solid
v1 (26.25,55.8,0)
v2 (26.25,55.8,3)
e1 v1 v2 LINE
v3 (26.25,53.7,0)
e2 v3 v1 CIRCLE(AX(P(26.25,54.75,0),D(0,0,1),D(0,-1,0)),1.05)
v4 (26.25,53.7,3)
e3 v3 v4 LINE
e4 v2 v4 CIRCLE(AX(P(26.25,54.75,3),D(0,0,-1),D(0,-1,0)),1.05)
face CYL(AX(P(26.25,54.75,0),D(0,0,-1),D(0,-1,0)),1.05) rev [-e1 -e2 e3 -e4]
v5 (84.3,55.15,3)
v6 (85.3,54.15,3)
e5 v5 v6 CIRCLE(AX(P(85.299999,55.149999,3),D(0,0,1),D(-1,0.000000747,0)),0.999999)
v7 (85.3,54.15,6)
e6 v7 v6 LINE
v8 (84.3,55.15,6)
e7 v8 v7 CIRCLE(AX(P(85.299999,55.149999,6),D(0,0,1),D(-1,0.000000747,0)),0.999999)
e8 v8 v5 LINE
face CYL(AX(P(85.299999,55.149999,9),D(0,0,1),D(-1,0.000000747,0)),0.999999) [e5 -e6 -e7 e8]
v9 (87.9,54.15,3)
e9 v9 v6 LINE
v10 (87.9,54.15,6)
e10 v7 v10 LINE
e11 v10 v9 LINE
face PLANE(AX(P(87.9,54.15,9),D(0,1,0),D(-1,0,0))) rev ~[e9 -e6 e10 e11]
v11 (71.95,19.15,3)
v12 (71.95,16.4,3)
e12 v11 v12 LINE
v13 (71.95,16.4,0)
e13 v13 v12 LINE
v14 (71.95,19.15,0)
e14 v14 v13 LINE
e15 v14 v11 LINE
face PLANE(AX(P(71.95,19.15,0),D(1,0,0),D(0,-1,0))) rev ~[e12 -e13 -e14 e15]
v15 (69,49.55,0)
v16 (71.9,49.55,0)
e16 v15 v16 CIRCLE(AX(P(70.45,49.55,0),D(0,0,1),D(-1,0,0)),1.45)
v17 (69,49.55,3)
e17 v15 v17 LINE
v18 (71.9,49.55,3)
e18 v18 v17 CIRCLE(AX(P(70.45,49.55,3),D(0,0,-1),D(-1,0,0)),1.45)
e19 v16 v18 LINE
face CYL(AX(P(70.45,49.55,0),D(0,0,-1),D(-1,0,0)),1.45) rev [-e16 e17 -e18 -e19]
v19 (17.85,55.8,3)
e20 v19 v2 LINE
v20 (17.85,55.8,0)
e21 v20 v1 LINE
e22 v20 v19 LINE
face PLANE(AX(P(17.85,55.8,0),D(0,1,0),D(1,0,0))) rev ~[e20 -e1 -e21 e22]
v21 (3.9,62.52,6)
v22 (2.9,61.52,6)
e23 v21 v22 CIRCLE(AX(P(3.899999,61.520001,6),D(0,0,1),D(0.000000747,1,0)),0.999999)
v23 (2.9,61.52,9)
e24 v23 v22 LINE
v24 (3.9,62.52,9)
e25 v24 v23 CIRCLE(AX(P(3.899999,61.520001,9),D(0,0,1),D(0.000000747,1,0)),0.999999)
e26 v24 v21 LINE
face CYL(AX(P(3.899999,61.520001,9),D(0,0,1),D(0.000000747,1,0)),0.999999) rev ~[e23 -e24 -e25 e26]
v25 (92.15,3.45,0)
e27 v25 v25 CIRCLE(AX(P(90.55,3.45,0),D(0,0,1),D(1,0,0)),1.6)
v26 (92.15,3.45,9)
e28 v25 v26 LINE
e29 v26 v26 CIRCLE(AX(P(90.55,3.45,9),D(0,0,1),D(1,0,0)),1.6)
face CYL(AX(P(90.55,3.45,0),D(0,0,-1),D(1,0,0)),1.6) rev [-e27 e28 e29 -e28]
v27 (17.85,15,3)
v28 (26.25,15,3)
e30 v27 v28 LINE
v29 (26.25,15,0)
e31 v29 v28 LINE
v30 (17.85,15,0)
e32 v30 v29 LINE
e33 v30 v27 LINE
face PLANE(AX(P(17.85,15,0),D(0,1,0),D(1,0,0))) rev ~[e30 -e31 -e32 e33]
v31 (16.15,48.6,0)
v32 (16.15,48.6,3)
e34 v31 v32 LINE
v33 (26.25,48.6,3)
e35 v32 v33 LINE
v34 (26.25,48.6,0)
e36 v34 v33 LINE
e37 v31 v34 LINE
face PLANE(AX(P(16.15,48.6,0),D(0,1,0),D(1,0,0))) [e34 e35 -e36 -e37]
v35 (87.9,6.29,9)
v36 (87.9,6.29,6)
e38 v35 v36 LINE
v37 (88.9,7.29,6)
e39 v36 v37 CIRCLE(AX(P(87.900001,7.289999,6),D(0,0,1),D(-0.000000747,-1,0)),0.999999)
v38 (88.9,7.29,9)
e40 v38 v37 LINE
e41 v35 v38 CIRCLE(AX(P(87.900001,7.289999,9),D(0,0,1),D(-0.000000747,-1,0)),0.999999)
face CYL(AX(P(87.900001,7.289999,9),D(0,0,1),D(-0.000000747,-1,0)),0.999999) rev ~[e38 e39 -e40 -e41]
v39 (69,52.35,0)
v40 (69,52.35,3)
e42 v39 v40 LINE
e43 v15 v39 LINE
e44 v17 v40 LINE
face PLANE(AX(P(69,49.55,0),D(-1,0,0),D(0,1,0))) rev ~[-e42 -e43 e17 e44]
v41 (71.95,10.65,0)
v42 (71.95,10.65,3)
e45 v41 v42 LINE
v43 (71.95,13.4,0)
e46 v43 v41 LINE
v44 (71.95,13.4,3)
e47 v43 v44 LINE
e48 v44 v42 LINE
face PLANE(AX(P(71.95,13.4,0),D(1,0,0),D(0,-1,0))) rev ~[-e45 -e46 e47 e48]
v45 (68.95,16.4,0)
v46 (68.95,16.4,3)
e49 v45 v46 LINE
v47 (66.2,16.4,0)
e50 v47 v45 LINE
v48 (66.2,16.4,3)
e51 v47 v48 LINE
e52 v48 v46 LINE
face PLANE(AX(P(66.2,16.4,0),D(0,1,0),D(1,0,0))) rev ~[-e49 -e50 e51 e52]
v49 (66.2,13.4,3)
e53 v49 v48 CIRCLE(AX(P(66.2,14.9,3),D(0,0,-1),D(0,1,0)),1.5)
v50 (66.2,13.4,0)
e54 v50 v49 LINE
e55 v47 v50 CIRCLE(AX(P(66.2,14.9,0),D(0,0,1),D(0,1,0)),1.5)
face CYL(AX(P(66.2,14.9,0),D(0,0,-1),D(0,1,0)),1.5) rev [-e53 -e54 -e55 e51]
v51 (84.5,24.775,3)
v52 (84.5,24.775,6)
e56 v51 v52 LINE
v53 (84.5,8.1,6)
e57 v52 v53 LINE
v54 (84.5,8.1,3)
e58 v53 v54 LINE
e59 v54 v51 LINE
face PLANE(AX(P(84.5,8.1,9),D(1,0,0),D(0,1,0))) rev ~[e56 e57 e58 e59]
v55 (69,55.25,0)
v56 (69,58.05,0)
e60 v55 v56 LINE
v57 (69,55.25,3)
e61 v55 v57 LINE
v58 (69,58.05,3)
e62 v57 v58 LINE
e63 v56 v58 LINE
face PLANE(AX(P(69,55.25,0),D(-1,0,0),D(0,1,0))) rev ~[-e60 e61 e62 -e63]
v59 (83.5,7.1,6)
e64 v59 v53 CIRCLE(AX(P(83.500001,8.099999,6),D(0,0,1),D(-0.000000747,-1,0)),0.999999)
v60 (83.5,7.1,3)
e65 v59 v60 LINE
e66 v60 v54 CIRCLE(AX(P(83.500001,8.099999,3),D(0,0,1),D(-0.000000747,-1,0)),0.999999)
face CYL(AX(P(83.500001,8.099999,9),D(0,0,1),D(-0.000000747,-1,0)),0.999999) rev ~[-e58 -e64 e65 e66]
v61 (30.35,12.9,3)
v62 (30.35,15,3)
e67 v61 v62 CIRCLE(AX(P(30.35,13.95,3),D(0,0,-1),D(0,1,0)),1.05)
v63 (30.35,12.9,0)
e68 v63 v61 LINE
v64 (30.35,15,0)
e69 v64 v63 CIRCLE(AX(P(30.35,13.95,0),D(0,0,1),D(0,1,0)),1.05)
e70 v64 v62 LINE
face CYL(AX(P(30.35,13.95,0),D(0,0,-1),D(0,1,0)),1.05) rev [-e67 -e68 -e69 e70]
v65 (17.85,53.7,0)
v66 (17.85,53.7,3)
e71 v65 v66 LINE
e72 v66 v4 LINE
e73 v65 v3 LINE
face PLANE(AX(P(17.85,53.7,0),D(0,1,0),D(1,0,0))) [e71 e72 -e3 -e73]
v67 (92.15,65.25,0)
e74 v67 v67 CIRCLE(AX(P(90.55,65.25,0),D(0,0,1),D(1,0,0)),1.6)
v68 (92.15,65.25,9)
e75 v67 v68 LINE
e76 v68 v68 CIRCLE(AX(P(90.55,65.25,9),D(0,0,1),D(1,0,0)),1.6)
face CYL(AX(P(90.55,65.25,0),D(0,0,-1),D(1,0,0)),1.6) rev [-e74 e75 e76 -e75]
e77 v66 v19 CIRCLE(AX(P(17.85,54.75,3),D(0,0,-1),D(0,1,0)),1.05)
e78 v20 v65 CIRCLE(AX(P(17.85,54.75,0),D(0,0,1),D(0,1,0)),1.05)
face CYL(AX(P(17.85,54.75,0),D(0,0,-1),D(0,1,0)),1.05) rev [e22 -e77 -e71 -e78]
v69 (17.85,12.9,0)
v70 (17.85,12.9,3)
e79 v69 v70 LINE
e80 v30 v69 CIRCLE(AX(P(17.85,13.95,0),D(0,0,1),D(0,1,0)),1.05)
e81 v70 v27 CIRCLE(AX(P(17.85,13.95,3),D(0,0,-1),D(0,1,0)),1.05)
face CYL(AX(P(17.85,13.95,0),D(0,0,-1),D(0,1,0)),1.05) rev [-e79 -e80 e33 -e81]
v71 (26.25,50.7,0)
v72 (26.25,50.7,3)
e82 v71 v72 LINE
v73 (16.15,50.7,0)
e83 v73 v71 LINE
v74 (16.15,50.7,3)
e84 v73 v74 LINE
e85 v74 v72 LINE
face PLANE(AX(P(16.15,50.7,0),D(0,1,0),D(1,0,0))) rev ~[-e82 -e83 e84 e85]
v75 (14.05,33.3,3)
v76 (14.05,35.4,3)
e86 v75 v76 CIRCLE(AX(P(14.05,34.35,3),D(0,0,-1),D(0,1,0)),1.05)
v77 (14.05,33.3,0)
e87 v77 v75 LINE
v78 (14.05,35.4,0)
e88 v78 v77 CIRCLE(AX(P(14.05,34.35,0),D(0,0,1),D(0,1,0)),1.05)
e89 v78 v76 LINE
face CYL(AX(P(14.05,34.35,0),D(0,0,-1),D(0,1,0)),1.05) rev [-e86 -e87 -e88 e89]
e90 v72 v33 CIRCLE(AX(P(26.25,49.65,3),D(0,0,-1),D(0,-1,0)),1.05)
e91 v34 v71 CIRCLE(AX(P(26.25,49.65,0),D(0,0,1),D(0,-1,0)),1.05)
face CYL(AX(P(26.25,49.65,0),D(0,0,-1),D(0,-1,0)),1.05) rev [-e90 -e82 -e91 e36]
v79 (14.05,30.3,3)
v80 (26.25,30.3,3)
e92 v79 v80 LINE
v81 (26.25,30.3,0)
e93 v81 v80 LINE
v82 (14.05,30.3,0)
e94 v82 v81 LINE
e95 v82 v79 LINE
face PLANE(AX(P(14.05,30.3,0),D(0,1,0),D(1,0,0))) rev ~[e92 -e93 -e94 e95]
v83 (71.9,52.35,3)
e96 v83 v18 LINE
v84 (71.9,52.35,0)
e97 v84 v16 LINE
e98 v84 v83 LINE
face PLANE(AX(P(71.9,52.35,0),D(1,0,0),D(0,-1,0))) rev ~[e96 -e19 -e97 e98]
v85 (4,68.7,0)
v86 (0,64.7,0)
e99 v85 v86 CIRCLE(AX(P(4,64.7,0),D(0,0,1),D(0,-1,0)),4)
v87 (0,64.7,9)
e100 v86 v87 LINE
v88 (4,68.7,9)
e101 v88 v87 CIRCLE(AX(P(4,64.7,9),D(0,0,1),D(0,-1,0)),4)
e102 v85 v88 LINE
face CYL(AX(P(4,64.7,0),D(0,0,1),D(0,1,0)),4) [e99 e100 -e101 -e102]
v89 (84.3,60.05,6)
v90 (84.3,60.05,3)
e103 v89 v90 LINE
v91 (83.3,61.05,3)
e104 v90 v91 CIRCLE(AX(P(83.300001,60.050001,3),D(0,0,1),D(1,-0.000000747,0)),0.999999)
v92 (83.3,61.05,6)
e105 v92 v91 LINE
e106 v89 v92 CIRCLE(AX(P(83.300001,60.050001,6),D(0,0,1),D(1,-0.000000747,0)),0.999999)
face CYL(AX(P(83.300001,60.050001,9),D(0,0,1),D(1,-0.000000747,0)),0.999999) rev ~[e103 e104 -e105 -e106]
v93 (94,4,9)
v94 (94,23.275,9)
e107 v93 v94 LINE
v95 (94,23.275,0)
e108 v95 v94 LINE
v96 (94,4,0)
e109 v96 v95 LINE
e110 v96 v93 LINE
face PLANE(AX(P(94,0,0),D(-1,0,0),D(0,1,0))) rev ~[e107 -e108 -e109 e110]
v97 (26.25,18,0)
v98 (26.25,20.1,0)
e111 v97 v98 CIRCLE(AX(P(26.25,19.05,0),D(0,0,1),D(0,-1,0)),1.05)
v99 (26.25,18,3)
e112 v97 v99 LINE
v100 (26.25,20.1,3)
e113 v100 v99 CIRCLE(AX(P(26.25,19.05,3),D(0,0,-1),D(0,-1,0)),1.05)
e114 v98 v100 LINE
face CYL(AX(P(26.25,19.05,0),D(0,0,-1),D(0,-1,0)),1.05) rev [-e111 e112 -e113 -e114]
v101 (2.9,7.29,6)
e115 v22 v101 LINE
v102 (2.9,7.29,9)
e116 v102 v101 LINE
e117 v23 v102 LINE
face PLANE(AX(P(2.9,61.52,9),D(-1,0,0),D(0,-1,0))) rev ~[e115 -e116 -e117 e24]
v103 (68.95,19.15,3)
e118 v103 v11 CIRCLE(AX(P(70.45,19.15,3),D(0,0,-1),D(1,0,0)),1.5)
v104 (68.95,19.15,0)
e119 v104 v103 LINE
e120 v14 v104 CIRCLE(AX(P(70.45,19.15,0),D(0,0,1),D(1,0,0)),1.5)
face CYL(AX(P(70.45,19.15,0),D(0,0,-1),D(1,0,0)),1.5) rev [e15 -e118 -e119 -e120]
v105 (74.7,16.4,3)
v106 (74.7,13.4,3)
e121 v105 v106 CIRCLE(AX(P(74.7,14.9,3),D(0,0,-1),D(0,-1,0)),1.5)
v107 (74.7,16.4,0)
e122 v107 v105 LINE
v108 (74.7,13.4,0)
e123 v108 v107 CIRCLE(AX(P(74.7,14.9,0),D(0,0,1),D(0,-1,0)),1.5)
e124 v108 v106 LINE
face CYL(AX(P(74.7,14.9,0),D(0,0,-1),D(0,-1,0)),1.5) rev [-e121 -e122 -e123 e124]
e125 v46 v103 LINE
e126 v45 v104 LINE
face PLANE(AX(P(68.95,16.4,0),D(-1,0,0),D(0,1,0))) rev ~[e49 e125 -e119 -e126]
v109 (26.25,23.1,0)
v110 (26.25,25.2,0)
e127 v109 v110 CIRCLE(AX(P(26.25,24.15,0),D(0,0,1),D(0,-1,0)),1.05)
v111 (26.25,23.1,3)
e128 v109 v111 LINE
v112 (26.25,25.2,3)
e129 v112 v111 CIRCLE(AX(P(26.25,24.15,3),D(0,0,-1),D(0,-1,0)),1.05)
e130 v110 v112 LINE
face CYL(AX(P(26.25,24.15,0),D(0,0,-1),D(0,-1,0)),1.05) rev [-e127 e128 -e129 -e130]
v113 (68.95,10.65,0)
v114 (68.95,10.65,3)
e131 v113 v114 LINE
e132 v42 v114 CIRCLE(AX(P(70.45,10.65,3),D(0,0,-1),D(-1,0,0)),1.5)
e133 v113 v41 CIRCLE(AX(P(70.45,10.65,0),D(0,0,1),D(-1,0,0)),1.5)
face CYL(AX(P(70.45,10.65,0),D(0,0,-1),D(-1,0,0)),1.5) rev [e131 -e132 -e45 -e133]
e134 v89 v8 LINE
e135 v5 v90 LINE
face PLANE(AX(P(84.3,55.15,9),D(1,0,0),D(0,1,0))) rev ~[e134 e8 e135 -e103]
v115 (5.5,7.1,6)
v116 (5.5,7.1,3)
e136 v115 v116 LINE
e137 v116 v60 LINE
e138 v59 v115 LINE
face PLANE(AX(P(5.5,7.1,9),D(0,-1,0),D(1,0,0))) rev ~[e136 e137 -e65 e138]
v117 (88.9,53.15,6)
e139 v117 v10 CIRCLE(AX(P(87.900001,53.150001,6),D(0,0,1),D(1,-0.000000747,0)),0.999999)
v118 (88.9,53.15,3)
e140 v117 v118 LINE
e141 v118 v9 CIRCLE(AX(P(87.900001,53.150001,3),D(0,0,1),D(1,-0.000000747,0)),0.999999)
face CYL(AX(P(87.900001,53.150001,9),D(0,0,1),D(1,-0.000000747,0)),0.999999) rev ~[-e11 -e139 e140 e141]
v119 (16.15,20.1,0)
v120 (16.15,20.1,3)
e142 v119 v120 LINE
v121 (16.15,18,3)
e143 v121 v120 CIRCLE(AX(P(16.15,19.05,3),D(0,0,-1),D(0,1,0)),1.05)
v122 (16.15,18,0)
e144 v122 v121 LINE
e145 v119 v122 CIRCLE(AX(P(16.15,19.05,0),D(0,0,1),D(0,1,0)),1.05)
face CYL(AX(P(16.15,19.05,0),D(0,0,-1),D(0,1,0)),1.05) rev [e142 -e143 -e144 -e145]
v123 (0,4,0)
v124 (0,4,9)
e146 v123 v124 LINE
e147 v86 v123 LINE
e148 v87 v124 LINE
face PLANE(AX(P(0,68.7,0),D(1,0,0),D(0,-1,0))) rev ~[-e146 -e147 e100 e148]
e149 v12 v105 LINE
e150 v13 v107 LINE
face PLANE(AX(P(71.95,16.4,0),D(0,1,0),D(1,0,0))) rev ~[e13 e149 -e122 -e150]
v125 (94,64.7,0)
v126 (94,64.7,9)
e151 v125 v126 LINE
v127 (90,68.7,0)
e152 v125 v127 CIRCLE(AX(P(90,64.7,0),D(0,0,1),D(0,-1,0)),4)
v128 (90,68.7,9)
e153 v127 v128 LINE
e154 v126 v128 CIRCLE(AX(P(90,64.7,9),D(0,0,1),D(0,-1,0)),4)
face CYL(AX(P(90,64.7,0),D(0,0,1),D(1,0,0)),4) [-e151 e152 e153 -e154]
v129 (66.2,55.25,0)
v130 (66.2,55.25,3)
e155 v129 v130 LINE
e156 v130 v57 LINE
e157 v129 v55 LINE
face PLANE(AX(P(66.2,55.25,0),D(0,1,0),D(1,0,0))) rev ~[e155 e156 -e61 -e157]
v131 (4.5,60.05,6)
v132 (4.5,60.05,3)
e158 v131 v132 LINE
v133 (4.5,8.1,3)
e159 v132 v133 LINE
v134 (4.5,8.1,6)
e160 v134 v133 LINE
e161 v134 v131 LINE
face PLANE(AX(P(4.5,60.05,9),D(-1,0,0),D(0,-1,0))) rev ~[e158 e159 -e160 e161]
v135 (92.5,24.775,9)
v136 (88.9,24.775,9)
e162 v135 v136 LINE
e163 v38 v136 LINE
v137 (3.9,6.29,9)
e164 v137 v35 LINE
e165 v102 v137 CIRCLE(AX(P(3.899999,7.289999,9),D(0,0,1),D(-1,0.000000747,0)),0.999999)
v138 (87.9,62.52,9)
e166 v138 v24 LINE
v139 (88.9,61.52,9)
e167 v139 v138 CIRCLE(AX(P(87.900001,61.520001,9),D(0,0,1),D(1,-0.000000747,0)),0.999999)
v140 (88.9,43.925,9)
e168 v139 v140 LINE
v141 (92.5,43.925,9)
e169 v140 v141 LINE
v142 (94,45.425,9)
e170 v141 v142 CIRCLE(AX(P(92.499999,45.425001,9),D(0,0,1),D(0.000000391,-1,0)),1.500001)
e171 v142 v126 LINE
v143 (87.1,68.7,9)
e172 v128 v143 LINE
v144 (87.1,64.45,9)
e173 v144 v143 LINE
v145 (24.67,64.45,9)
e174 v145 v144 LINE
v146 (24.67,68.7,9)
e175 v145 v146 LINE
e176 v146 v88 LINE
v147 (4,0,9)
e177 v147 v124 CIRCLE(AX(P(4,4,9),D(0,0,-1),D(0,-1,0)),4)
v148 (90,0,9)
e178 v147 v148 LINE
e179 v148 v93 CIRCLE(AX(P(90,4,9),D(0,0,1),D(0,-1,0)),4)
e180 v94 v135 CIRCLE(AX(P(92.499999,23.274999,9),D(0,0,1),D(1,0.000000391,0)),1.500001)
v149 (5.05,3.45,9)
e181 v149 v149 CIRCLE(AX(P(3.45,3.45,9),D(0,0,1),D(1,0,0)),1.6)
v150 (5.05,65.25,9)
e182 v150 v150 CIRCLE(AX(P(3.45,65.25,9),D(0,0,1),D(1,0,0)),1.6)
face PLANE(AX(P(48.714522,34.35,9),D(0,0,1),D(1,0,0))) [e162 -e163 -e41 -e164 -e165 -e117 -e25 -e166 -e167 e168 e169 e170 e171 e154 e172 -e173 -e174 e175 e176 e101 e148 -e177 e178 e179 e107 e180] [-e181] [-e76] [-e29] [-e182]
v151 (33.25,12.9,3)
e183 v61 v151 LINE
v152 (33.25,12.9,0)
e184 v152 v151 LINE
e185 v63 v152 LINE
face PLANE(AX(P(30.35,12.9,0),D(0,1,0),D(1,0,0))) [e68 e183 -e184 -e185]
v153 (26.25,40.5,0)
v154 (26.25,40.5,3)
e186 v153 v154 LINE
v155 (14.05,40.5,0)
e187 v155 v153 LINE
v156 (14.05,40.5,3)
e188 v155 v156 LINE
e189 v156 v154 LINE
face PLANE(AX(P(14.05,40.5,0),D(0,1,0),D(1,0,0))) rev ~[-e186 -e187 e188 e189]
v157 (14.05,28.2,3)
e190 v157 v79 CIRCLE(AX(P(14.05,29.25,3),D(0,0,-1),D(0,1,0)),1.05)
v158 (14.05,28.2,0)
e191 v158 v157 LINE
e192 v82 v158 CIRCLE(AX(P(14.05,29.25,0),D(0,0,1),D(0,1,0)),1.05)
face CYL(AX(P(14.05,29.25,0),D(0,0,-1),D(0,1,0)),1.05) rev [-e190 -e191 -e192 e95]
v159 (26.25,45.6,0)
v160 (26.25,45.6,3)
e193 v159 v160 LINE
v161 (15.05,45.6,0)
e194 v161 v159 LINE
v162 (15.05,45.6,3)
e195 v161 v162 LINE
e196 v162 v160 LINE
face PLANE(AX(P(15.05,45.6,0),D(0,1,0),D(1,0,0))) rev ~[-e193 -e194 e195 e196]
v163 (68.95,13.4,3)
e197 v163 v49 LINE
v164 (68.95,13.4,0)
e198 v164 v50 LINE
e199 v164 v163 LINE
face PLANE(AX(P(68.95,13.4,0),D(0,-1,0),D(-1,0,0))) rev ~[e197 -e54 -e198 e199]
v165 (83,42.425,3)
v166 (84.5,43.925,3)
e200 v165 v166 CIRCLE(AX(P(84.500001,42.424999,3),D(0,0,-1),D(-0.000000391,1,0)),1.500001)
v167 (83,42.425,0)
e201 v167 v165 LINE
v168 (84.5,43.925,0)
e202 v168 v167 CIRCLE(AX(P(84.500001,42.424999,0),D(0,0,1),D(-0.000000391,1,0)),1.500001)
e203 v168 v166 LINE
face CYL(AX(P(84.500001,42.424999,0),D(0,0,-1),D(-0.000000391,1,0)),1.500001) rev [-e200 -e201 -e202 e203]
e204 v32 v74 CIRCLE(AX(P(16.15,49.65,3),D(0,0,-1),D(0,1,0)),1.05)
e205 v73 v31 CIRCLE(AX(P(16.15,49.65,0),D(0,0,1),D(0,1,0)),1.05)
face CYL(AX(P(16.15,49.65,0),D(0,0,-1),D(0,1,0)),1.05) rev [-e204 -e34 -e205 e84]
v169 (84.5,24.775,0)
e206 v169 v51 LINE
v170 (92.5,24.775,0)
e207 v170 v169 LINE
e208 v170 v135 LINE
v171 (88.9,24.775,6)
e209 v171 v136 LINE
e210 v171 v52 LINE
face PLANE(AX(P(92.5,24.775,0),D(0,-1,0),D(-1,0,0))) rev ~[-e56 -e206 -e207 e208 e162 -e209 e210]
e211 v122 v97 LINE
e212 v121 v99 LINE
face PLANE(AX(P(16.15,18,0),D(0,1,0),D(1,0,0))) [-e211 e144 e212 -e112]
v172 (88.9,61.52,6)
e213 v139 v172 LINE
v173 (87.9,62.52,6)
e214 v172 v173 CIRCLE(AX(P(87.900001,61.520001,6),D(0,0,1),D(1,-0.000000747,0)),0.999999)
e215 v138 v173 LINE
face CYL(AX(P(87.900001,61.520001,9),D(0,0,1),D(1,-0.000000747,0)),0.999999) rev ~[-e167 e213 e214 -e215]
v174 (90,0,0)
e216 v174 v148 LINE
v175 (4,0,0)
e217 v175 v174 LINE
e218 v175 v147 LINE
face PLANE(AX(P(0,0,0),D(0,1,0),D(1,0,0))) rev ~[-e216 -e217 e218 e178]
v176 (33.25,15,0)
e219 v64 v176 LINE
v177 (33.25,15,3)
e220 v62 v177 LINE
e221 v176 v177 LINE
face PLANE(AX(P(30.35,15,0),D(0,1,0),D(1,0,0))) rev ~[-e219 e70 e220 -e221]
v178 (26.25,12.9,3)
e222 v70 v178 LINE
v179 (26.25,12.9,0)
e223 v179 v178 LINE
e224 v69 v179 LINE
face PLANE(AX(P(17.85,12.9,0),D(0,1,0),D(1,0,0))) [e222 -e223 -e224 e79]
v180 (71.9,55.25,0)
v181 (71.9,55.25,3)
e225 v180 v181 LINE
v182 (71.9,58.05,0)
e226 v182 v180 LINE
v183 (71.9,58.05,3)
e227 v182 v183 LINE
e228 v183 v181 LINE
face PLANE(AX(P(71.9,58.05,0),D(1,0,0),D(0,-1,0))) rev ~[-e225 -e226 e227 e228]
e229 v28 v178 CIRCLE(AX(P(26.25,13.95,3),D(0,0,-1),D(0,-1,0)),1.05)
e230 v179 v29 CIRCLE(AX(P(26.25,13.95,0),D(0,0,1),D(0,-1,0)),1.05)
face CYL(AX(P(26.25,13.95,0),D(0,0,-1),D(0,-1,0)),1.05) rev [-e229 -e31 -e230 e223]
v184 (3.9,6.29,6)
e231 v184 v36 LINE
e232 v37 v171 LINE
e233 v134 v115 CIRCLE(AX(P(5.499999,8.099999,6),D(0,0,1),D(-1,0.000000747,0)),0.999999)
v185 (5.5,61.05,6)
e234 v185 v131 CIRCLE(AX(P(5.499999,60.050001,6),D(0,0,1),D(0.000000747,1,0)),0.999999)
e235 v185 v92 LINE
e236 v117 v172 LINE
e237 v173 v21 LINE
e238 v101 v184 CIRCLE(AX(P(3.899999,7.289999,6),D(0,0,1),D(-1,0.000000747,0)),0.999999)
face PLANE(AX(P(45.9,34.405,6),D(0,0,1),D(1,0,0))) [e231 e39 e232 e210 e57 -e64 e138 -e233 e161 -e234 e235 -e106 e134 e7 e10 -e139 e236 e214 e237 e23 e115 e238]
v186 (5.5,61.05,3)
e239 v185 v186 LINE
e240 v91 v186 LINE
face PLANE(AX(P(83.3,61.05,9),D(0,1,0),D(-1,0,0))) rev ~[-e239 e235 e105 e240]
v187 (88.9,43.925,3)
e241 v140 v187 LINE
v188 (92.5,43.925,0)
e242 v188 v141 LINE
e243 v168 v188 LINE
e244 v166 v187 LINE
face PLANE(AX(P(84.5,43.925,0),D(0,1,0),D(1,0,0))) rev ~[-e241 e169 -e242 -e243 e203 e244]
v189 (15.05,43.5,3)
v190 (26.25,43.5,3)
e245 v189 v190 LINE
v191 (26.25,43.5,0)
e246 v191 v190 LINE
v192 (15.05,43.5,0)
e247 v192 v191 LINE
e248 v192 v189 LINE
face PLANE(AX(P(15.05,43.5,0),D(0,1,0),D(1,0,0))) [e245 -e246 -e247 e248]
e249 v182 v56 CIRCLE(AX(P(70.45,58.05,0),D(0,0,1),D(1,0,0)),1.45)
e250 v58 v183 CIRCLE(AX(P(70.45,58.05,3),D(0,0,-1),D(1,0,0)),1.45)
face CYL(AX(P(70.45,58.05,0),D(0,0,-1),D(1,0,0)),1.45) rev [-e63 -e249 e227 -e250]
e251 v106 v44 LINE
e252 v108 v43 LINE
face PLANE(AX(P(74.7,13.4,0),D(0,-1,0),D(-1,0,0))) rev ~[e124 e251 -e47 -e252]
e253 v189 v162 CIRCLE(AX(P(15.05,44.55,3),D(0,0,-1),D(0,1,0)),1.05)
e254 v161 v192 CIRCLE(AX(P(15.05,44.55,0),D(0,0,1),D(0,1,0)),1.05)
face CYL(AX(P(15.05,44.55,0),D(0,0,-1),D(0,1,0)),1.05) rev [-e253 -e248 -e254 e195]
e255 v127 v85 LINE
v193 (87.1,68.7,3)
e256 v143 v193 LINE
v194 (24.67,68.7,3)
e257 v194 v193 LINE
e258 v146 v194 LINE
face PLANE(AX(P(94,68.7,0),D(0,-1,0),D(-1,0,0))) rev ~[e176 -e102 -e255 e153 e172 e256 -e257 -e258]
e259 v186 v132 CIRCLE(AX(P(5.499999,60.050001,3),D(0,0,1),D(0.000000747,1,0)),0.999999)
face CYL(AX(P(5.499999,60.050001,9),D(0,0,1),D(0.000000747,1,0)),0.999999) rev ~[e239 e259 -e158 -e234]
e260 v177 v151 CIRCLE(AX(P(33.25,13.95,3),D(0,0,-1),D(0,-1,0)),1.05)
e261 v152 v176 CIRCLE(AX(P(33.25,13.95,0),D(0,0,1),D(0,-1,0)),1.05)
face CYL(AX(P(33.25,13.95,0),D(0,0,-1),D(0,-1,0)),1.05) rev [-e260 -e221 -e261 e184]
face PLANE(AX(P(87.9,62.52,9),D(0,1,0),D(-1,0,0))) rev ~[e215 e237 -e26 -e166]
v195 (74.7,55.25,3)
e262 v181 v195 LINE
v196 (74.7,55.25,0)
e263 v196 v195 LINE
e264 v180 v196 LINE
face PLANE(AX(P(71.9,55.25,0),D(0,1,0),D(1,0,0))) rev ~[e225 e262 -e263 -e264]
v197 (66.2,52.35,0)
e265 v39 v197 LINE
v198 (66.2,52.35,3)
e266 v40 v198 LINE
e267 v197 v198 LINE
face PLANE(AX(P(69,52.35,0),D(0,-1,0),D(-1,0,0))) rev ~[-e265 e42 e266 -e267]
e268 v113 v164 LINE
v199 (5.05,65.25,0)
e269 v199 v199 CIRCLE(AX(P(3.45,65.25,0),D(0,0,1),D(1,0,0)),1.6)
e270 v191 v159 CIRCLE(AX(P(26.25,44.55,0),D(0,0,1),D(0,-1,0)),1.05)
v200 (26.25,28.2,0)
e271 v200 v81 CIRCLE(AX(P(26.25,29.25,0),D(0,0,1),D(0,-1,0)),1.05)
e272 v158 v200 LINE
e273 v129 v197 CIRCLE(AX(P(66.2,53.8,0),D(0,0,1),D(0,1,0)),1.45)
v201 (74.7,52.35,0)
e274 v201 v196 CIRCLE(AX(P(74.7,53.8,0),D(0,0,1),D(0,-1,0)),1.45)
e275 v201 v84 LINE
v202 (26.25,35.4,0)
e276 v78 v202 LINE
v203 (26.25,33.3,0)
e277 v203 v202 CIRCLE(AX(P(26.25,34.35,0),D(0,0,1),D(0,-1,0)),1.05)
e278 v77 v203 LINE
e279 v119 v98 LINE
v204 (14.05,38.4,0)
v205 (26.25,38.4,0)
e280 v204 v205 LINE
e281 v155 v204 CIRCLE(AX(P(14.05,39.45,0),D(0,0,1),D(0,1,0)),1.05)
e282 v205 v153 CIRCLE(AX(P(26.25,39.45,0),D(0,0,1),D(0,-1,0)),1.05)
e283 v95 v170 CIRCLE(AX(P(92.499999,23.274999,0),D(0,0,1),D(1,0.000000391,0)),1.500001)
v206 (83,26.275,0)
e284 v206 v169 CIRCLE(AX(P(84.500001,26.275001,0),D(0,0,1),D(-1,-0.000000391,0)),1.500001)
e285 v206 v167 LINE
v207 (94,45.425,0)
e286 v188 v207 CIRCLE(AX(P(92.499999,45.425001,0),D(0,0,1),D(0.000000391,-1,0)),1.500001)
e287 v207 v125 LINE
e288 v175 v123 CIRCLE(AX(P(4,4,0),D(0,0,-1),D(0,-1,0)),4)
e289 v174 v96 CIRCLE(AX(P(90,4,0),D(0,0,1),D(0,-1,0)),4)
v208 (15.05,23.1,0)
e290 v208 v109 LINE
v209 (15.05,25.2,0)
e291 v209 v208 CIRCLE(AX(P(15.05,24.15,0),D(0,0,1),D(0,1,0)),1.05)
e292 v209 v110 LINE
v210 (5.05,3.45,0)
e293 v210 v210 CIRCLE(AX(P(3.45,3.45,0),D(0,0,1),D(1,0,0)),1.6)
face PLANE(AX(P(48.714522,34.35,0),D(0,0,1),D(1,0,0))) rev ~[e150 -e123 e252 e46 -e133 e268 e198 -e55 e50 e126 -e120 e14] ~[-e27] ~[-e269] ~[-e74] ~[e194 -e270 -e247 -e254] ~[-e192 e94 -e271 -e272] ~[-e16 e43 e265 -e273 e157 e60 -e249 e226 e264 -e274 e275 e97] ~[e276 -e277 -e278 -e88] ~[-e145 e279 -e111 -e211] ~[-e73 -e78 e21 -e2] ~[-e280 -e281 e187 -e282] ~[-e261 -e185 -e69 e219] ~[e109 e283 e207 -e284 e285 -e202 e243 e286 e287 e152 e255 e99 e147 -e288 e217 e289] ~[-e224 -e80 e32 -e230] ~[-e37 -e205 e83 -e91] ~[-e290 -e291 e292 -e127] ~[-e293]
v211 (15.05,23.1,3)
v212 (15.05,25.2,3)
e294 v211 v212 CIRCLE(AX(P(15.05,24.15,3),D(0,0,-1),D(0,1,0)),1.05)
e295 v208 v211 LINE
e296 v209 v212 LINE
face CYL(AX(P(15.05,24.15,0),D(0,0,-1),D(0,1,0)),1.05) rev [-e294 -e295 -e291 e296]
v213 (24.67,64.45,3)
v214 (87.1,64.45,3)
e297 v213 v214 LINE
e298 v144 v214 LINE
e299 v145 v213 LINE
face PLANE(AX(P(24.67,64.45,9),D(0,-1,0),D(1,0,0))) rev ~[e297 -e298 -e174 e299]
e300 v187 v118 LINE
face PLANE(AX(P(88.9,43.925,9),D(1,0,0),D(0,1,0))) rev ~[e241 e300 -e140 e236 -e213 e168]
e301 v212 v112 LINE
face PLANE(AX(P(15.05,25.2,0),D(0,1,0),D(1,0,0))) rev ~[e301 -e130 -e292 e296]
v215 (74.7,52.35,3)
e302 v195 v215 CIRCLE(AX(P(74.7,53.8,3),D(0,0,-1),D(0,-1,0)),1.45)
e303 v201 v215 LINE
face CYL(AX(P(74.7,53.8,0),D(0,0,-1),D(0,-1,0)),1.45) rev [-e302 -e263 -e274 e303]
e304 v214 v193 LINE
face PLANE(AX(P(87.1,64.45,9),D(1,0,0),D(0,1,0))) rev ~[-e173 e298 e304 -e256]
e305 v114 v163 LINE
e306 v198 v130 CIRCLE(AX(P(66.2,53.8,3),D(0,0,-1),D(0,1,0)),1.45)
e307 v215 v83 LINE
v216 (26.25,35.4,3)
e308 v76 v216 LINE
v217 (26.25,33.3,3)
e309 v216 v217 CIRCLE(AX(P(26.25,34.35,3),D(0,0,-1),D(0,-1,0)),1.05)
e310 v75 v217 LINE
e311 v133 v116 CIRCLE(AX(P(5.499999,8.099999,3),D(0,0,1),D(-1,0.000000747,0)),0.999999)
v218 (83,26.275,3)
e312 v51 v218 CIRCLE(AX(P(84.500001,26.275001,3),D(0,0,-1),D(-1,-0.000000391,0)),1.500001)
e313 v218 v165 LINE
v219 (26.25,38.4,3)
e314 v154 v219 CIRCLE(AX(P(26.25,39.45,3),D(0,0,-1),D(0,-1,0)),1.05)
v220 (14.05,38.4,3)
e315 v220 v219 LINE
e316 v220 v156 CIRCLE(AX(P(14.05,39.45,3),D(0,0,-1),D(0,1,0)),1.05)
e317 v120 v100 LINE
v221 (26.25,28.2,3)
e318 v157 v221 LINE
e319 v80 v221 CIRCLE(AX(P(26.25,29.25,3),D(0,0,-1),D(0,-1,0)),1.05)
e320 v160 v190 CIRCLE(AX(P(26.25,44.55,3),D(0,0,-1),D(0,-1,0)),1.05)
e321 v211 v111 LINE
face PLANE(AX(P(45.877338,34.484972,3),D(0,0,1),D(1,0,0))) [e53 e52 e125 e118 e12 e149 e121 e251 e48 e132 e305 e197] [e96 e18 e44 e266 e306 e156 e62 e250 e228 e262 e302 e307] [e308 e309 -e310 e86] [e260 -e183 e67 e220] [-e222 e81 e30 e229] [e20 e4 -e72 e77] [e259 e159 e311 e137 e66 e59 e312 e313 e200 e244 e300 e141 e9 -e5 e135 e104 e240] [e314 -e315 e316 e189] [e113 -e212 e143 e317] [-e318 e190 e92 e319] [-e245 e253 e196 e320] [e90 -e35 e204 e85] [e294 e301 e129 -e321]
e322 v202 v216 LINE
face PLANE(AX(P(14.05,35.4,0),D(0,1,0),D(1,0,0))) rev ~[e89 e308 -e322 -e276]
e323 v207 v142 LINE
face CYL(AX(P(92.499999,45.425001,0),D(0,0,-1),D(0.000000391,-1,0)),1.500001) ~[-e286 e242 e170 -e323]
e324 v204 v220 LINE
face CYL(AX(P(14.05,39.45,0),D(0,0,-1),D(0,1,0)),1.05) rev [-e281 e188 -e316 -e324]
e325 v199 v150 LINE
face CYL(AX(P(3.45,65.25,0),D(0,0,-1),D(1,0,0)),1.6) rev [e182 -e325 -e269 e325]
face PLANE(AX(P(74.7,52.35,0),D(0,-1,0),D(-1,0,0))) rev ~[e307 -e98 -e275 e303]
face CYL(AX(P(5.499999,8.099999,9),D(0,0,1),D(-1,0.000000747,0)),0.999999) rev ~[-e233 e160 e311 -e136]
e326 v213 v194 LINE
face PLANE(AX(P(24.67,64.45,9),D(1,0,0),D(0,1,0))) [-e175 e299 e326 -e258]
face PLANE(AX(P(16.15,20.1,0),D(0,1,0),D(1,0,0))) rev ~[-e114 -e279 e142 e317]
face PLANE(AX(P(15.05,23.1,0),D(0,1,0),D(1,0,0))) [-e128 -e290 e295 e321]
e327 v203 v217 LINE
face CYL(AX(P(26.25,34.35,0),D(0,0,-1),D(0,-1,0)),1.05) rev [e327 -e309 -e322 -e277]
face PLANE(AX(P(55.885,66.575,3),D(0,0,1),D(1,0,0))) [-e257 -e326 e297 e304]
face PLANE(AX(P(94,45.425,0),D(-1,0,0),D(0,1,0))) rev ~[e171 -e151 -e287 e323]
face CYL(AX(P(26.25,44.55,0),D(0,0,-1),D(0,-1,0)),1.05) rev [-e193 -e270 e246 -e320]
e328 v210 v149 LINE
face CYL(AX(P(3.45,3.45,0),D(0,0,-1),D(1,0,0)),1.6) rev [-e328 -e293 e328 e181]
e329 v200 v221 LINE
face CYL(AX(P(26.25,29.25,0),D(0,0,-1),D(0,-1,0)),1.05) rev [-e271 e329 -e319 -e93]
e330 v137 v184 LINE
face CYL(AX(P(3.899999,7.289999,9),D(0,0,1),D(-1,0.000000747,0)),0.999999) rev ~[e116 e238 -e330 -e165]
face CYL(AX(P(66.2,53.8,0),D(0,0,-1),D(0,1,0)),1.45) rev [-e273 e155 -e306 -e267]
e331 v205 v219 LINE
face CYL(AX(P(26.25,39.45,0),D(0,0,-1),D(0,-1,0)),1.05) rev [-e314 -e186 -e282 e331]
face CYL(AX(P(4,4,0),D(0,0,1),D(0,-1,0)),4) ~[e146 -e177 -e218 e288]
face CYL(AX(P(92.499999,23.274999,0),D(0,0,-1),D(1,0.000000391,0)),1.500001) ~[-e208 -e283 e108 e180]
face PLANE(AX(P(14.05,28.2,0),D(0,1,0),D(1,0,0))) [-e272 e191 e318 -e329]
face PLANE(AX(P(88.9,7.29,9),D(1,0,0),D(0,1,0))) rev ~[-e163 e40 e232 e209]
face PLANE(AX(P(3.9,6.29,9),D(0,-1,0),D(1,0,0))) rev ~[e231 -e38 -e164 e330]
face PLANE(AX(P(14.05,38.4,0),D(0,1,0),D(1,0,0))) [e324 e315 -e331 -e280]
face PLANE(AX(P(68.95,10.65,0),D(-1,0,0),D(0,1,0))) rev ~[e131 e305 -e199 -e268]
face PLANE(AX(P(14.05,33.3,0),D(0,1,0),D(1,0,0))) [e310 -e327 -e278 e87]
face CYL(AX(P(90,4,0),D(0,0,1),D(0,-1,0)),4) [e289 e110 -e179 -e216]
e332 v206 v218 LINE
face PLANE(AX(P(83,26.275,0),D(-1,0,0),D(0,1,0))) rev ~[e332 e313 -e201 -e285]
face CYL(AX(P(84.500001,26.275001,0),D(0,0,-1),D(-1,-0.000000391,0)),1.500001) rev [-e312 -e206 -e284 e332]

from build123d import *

# Parameters (mm, degrees)
SKETCH_R        = 1.6
PAD_DEPTH       = 9
SKETCH001_W     = 62.43
SKETCH001_H     = 4.25
POCKET_DEPTH    = 6
POCKET001_DEPTH = 3
FILLET_R        = 4


with BuildPart() as part:
    # Sketch → Pad (new body)
    with BuildSketch(Plane.XY):
        with BuildLine():
            Line((0, 0), (94, 0))
            Line((94, 0), (94, 23.275))
            ThreePointArc((94, 23.275), (93.56066, 24.33566), (92.5, 24.775))
            Line((92.5, 24.775), (84.5, 24.775))
            ThreePointArc((83, 26.275), (83.43934, 25.21434), (84.5, 24.775))
            Line((83, 26.275), (83, 42.425))
            ThreePointArc((84.5, 43.925), (83.43934, 43.48566), (83, 42.425))
            Line((84.5, 43.925), (92.5, 43.925))
            ThreePointArc((92.5, 43.925), (93.56066, 44.36434), (94, 45.425))
            Line((94, 45.425), (94, 68.7))
            Line((94, 68.7), (0, 68.7))
            Line((0, 68.7), (0, 0))
        make_face()
        with Locations((3.45, 65.25)):
            Circle(SKETCH_R, mode=Mode.SUBTRACT)
        with Locations((90.55, 65.25)):
            Circle(SKETCH_R, mode=Mode.SUBTRACT)
        with Locations((90.55, 3.45)):
            Circle(SKETCH_R, mode=Mode.SUBTRACT)
        with Locations((3.45, 3.45)):
            Circle(SKETCH_R, mode=Mode.SUBTRACT)
        with BuildLine():
            ThreePointArc((68.95, 10.65), (70.45, 9.15), (71.95, 10.65))
            Line((71.95, 13.4), (71.95, 10.65))
            Line((74.7, 13.4), (71.95, 13.4))
            ThreePointArc((74.7, 13.4), (76.2, 14.9), (74.7, 16.4))
            Line((71.95, 16.4), (74.7, 16.4))
            Line((71.95, 19.15), (71.95, 16.4))
            ThreePointArc((71.95, 19.15), (70.45, 20.65), (68.95, 19.15))
            Line((68.95, 16.4), (68.95, 19.15))
            Line((66.2, 16.4), (68.95, 16.4))
            ThreePointArc((66.2, 16.4), (64.7, 14.9), (66.2, 13.4))
            Line((68.95, 13.4), (66.2, 13.4))
            Line((68.95, 10.65), (68.95, 13.4))
        make_face(mode=Mode.SUBTRACT)
        with BuildLine():
            ThreePointArc((69, 49.55), (70.45, 48.1), (71.9, 49.55))
            Line((71.9, 52.35), (71.9, 49.55))
            Line((74.7, 52.35), (71.9, 52.35))
            ThreePointArc((74.7, 52.35), (76.15, 53.8), (74.7, 55.25))
            Line((71.9, 55.25), (74.7, 55.25))
            Line((71.9, 58.05), (71.9, 55.25))
            ThreePointArc((71.9, 58.05), (70.45, 59.5), (69, 58.05))
            Line((69, 55.25), (69, 58.05))
            Line((66.2, 55.25), (69, 55.25))
            ThreePointArc((66.2, 55.25), (64.75, 53.8), (66.2, 52.35))
            Line((69, 52.35), (66.2, 52.35))
            Line((69, 49.55), (69, 52.35))
        make_face(mode=Mode.SUBTRACT)
        with BuildLine():
            ThreePointArc((14.05, 30.3), (13, 29.25), (14.05, 28.2))
            Line((14.05, 28.2), (26.25, 28.2))
            ThreePointArc((26.25, 28.2), (27.3, 29.25), (26.25, 30.3))
            Line((14.05, 30.3), (26.25, 30.3))
        make_face(mode=Mode.SUBTRACT)
        with BuildLine():
            ThreePointArc((14.05, 35.4), (13, 34.35), (14.05, 33.3))
            Line((14.05, 33.3), (26.25, 33.3))
            ThreePointArc((26.25, 33.3), (27.3, 34.35), (26.25, 35.4))
            Line((14.05, 35.4), (26.25, 35.4))
        make_face(mode=Mode.SUBTRACT)
        with BuildLine():
            ThreePointArc((15.05, 25.2), (14, 24.15), (15.05, 23.1))
            Line((15.05, 23.1), (26.25, 23.1))
            ThreePointArc((26.25, 23.1), (27.3, 24.15), (26.25, 25.2))
            Line((15.05, 25.2), (26.25, 25.2))
        make_face(mode=Mode.SUBTRACT)
        with BuildLine():
            ThreePointArc((16.15, 20.1), (15.1, 19.05), (16.15, 18))
            Line((16.15, 18), (26.25, 18))
            ThreePointArc((26.25, 18), (27.3, 19.05), (26.25, 20.1))
            Line((16.15, 20.1), (26.25, 20.1))
        make_face(mode=Mode.SUBTRACT)
        with BuildLine():
            ThreePointArc((17.85, 15), (16.8, 13.95), (17.85, 12.9))
            Line((17.85, 12.9), (26.25, 12.9))
            ThreePointArc((26.25, 12.9), (27.3, 13.95), (26.25, 15))
            Line((17.85, 15), (26.25, 15))
        make_face(mode=Mode.SUBTRACT)
        with BuildLine():
            ThreePointArc((14.05, 40.5), (13, 39.45), (14.05, 38.4))
            Line((14.05, 38.4), (26.25, 38.4))
            ThreePointArc((26.25, 38.4), (27.3, 39.45), (26.25, 40.5))
            Line((14.05, 40.5), (26.25, 40.5))
        make_face(mode=Mode.SUBTRACT)
        with BuildLine():
            ThreePointArc((15.05, 45.6), (14, 44.55), (15.05, 43.5))
            Line((15.05, 43.5), (26.25, 43.5))
            ThreePointArc((26.25, 43.5), (27.3, 44.55), (26.25, 45.6))
            Line((15.05, 45.6), (26.25, 45.6))
        make_face(mode=Mode.SUBTRACT)
        with BuildLine():
            ThreePointArc((16.15, 50.7), (15.1, 49.65), (16.15, 48.6))
            Line((16.15, 48.6), (26.25, 48.6))
            ThreePointArc((26.25, 48.6), (27.3, 49.65), (26.25, 50.7))
            Line((16.15, 50.7), (26.25, 50.7))
        make_face(mode=Mode.SUBTRACT)
        with BuildLine():
            ThreePointArc((17.85, 55.8), (16.8, 54.75), (17.85, 53.7))
            Line((17.85, 53.7), (26.25, 53.7))
            ThreePointArc((26.25, 53.7), (27.3, 54.75), (26.25, 55.8))
            Line((17.85, 55.8), (26.25, 55.8))
        make_face(mode=Mode.SUBTRACT)
        with BuildLine():
            ThreePointArc((30.35, 15), (29.3, 13.95), (30.35, 12.9))
            Line((30.35, 12.9), (33.25, 12.9))
            ThreePointArc((33.25, 12.9), (34.3, 13.95), (33.25, 15))
            Line((30.35, 15), (33.25, 15))
        make_face(mode=Mode.SUBTRACT)
    extrude(amount=PAD_DEPTH)

    # Sketch001 (on Face82 of Pad) → Pocket (cut)
    with BuildSketch(Plane.XY.offset(9)):
        with Locations((55.885, 66.575)):
            Rectangle(SKETCH001_W, SKETCH001_H)
        with BuildLine():
            Line((4.5, 60.05), (4.5, 8.1))
            ThreePointArc((4.5, 8.1), (4.792893, 7.392893), (5.5, 7.1))
            Line((5.5, 7.1), (83.5, 7.1))
            ThreePointArc((83.5, 7.1), (84.207107, 7.392893), (84.5, 8.1))
            Line((84.5, 8.1), (84.5, 24.775))
            Line((84.5, 24.775), (84.5, 43.925))
            Line((84.5, 43.925), (88.9, 43.925))
            Line((88.9, 43.925), (88.9, 53.15))
            ThreePointArc((88.9, 53.15), (88.607107, 53.857107), (87.9, 54.15))
            Line((87.9, 54.15), (85.3, 54.15))
            ThreePointArc((84.3, 55.15), (84.592893, 54.442893), (85.3, 54.15))
            Line((84.3, 55.15), (84.3, 60.05))
            ThreePointArc((84.3, 60.05), (84.007107, 60.757107), (83.3, 61.05))
            Line((83.3, 61.05), (5.5, 61.05))
            ThreePointArc((5.5, 61.05), (4.792893, 60.757107), (4.5, 60.05))
        make_face()
    extrude(amount=-POCKET_DEPTH, mode=Mode.SUBTRACT)

    # Sketch002 (on Face4 of Pocket) → Pocket001 (cut)
    with BuildSketch(Plane.XY.offset(9)):
        with BuildLine():
            Line((88.9, 7.29), (88.9, 61.52))
            ThreePointArc((88.9, 61.52), (88.607107, 62.227107), (87.9, 62.52))
            Line((87.9, 62.52), (3.9, 62.52))
            ThreePointArc((3.9, 62.52), (3.192893, 62.227107), (2.9, 61.52))
            Line((2.9, 61.52), (2.9, 7.29))
            ThreePointArc((2.9, 7.29), (3.192893, 6.582893), (3.9, 6.29))
            Line((3.9, 6.29), (87.9, 6.29))
            ThreePointArc((87.9, 6.29), (88.607107, 6.582893), (88.9, 7.29))
        make_face()
    extrude(amount=-POCKET001_DEPTH, mode=Mode.SUBTRACT)

    # Fillet
    fillet_edges = [part.edges().sort_by_distance(p)[0] for p in [
        (94, 68.7, 4.5),
        (94, 0, 4.5),
        (0, 0, 4.5),
        (0, 68.7, 4.5),
    ]]
    fillet(fillet_edges, radius=FILLET_R)


solid = part.part
